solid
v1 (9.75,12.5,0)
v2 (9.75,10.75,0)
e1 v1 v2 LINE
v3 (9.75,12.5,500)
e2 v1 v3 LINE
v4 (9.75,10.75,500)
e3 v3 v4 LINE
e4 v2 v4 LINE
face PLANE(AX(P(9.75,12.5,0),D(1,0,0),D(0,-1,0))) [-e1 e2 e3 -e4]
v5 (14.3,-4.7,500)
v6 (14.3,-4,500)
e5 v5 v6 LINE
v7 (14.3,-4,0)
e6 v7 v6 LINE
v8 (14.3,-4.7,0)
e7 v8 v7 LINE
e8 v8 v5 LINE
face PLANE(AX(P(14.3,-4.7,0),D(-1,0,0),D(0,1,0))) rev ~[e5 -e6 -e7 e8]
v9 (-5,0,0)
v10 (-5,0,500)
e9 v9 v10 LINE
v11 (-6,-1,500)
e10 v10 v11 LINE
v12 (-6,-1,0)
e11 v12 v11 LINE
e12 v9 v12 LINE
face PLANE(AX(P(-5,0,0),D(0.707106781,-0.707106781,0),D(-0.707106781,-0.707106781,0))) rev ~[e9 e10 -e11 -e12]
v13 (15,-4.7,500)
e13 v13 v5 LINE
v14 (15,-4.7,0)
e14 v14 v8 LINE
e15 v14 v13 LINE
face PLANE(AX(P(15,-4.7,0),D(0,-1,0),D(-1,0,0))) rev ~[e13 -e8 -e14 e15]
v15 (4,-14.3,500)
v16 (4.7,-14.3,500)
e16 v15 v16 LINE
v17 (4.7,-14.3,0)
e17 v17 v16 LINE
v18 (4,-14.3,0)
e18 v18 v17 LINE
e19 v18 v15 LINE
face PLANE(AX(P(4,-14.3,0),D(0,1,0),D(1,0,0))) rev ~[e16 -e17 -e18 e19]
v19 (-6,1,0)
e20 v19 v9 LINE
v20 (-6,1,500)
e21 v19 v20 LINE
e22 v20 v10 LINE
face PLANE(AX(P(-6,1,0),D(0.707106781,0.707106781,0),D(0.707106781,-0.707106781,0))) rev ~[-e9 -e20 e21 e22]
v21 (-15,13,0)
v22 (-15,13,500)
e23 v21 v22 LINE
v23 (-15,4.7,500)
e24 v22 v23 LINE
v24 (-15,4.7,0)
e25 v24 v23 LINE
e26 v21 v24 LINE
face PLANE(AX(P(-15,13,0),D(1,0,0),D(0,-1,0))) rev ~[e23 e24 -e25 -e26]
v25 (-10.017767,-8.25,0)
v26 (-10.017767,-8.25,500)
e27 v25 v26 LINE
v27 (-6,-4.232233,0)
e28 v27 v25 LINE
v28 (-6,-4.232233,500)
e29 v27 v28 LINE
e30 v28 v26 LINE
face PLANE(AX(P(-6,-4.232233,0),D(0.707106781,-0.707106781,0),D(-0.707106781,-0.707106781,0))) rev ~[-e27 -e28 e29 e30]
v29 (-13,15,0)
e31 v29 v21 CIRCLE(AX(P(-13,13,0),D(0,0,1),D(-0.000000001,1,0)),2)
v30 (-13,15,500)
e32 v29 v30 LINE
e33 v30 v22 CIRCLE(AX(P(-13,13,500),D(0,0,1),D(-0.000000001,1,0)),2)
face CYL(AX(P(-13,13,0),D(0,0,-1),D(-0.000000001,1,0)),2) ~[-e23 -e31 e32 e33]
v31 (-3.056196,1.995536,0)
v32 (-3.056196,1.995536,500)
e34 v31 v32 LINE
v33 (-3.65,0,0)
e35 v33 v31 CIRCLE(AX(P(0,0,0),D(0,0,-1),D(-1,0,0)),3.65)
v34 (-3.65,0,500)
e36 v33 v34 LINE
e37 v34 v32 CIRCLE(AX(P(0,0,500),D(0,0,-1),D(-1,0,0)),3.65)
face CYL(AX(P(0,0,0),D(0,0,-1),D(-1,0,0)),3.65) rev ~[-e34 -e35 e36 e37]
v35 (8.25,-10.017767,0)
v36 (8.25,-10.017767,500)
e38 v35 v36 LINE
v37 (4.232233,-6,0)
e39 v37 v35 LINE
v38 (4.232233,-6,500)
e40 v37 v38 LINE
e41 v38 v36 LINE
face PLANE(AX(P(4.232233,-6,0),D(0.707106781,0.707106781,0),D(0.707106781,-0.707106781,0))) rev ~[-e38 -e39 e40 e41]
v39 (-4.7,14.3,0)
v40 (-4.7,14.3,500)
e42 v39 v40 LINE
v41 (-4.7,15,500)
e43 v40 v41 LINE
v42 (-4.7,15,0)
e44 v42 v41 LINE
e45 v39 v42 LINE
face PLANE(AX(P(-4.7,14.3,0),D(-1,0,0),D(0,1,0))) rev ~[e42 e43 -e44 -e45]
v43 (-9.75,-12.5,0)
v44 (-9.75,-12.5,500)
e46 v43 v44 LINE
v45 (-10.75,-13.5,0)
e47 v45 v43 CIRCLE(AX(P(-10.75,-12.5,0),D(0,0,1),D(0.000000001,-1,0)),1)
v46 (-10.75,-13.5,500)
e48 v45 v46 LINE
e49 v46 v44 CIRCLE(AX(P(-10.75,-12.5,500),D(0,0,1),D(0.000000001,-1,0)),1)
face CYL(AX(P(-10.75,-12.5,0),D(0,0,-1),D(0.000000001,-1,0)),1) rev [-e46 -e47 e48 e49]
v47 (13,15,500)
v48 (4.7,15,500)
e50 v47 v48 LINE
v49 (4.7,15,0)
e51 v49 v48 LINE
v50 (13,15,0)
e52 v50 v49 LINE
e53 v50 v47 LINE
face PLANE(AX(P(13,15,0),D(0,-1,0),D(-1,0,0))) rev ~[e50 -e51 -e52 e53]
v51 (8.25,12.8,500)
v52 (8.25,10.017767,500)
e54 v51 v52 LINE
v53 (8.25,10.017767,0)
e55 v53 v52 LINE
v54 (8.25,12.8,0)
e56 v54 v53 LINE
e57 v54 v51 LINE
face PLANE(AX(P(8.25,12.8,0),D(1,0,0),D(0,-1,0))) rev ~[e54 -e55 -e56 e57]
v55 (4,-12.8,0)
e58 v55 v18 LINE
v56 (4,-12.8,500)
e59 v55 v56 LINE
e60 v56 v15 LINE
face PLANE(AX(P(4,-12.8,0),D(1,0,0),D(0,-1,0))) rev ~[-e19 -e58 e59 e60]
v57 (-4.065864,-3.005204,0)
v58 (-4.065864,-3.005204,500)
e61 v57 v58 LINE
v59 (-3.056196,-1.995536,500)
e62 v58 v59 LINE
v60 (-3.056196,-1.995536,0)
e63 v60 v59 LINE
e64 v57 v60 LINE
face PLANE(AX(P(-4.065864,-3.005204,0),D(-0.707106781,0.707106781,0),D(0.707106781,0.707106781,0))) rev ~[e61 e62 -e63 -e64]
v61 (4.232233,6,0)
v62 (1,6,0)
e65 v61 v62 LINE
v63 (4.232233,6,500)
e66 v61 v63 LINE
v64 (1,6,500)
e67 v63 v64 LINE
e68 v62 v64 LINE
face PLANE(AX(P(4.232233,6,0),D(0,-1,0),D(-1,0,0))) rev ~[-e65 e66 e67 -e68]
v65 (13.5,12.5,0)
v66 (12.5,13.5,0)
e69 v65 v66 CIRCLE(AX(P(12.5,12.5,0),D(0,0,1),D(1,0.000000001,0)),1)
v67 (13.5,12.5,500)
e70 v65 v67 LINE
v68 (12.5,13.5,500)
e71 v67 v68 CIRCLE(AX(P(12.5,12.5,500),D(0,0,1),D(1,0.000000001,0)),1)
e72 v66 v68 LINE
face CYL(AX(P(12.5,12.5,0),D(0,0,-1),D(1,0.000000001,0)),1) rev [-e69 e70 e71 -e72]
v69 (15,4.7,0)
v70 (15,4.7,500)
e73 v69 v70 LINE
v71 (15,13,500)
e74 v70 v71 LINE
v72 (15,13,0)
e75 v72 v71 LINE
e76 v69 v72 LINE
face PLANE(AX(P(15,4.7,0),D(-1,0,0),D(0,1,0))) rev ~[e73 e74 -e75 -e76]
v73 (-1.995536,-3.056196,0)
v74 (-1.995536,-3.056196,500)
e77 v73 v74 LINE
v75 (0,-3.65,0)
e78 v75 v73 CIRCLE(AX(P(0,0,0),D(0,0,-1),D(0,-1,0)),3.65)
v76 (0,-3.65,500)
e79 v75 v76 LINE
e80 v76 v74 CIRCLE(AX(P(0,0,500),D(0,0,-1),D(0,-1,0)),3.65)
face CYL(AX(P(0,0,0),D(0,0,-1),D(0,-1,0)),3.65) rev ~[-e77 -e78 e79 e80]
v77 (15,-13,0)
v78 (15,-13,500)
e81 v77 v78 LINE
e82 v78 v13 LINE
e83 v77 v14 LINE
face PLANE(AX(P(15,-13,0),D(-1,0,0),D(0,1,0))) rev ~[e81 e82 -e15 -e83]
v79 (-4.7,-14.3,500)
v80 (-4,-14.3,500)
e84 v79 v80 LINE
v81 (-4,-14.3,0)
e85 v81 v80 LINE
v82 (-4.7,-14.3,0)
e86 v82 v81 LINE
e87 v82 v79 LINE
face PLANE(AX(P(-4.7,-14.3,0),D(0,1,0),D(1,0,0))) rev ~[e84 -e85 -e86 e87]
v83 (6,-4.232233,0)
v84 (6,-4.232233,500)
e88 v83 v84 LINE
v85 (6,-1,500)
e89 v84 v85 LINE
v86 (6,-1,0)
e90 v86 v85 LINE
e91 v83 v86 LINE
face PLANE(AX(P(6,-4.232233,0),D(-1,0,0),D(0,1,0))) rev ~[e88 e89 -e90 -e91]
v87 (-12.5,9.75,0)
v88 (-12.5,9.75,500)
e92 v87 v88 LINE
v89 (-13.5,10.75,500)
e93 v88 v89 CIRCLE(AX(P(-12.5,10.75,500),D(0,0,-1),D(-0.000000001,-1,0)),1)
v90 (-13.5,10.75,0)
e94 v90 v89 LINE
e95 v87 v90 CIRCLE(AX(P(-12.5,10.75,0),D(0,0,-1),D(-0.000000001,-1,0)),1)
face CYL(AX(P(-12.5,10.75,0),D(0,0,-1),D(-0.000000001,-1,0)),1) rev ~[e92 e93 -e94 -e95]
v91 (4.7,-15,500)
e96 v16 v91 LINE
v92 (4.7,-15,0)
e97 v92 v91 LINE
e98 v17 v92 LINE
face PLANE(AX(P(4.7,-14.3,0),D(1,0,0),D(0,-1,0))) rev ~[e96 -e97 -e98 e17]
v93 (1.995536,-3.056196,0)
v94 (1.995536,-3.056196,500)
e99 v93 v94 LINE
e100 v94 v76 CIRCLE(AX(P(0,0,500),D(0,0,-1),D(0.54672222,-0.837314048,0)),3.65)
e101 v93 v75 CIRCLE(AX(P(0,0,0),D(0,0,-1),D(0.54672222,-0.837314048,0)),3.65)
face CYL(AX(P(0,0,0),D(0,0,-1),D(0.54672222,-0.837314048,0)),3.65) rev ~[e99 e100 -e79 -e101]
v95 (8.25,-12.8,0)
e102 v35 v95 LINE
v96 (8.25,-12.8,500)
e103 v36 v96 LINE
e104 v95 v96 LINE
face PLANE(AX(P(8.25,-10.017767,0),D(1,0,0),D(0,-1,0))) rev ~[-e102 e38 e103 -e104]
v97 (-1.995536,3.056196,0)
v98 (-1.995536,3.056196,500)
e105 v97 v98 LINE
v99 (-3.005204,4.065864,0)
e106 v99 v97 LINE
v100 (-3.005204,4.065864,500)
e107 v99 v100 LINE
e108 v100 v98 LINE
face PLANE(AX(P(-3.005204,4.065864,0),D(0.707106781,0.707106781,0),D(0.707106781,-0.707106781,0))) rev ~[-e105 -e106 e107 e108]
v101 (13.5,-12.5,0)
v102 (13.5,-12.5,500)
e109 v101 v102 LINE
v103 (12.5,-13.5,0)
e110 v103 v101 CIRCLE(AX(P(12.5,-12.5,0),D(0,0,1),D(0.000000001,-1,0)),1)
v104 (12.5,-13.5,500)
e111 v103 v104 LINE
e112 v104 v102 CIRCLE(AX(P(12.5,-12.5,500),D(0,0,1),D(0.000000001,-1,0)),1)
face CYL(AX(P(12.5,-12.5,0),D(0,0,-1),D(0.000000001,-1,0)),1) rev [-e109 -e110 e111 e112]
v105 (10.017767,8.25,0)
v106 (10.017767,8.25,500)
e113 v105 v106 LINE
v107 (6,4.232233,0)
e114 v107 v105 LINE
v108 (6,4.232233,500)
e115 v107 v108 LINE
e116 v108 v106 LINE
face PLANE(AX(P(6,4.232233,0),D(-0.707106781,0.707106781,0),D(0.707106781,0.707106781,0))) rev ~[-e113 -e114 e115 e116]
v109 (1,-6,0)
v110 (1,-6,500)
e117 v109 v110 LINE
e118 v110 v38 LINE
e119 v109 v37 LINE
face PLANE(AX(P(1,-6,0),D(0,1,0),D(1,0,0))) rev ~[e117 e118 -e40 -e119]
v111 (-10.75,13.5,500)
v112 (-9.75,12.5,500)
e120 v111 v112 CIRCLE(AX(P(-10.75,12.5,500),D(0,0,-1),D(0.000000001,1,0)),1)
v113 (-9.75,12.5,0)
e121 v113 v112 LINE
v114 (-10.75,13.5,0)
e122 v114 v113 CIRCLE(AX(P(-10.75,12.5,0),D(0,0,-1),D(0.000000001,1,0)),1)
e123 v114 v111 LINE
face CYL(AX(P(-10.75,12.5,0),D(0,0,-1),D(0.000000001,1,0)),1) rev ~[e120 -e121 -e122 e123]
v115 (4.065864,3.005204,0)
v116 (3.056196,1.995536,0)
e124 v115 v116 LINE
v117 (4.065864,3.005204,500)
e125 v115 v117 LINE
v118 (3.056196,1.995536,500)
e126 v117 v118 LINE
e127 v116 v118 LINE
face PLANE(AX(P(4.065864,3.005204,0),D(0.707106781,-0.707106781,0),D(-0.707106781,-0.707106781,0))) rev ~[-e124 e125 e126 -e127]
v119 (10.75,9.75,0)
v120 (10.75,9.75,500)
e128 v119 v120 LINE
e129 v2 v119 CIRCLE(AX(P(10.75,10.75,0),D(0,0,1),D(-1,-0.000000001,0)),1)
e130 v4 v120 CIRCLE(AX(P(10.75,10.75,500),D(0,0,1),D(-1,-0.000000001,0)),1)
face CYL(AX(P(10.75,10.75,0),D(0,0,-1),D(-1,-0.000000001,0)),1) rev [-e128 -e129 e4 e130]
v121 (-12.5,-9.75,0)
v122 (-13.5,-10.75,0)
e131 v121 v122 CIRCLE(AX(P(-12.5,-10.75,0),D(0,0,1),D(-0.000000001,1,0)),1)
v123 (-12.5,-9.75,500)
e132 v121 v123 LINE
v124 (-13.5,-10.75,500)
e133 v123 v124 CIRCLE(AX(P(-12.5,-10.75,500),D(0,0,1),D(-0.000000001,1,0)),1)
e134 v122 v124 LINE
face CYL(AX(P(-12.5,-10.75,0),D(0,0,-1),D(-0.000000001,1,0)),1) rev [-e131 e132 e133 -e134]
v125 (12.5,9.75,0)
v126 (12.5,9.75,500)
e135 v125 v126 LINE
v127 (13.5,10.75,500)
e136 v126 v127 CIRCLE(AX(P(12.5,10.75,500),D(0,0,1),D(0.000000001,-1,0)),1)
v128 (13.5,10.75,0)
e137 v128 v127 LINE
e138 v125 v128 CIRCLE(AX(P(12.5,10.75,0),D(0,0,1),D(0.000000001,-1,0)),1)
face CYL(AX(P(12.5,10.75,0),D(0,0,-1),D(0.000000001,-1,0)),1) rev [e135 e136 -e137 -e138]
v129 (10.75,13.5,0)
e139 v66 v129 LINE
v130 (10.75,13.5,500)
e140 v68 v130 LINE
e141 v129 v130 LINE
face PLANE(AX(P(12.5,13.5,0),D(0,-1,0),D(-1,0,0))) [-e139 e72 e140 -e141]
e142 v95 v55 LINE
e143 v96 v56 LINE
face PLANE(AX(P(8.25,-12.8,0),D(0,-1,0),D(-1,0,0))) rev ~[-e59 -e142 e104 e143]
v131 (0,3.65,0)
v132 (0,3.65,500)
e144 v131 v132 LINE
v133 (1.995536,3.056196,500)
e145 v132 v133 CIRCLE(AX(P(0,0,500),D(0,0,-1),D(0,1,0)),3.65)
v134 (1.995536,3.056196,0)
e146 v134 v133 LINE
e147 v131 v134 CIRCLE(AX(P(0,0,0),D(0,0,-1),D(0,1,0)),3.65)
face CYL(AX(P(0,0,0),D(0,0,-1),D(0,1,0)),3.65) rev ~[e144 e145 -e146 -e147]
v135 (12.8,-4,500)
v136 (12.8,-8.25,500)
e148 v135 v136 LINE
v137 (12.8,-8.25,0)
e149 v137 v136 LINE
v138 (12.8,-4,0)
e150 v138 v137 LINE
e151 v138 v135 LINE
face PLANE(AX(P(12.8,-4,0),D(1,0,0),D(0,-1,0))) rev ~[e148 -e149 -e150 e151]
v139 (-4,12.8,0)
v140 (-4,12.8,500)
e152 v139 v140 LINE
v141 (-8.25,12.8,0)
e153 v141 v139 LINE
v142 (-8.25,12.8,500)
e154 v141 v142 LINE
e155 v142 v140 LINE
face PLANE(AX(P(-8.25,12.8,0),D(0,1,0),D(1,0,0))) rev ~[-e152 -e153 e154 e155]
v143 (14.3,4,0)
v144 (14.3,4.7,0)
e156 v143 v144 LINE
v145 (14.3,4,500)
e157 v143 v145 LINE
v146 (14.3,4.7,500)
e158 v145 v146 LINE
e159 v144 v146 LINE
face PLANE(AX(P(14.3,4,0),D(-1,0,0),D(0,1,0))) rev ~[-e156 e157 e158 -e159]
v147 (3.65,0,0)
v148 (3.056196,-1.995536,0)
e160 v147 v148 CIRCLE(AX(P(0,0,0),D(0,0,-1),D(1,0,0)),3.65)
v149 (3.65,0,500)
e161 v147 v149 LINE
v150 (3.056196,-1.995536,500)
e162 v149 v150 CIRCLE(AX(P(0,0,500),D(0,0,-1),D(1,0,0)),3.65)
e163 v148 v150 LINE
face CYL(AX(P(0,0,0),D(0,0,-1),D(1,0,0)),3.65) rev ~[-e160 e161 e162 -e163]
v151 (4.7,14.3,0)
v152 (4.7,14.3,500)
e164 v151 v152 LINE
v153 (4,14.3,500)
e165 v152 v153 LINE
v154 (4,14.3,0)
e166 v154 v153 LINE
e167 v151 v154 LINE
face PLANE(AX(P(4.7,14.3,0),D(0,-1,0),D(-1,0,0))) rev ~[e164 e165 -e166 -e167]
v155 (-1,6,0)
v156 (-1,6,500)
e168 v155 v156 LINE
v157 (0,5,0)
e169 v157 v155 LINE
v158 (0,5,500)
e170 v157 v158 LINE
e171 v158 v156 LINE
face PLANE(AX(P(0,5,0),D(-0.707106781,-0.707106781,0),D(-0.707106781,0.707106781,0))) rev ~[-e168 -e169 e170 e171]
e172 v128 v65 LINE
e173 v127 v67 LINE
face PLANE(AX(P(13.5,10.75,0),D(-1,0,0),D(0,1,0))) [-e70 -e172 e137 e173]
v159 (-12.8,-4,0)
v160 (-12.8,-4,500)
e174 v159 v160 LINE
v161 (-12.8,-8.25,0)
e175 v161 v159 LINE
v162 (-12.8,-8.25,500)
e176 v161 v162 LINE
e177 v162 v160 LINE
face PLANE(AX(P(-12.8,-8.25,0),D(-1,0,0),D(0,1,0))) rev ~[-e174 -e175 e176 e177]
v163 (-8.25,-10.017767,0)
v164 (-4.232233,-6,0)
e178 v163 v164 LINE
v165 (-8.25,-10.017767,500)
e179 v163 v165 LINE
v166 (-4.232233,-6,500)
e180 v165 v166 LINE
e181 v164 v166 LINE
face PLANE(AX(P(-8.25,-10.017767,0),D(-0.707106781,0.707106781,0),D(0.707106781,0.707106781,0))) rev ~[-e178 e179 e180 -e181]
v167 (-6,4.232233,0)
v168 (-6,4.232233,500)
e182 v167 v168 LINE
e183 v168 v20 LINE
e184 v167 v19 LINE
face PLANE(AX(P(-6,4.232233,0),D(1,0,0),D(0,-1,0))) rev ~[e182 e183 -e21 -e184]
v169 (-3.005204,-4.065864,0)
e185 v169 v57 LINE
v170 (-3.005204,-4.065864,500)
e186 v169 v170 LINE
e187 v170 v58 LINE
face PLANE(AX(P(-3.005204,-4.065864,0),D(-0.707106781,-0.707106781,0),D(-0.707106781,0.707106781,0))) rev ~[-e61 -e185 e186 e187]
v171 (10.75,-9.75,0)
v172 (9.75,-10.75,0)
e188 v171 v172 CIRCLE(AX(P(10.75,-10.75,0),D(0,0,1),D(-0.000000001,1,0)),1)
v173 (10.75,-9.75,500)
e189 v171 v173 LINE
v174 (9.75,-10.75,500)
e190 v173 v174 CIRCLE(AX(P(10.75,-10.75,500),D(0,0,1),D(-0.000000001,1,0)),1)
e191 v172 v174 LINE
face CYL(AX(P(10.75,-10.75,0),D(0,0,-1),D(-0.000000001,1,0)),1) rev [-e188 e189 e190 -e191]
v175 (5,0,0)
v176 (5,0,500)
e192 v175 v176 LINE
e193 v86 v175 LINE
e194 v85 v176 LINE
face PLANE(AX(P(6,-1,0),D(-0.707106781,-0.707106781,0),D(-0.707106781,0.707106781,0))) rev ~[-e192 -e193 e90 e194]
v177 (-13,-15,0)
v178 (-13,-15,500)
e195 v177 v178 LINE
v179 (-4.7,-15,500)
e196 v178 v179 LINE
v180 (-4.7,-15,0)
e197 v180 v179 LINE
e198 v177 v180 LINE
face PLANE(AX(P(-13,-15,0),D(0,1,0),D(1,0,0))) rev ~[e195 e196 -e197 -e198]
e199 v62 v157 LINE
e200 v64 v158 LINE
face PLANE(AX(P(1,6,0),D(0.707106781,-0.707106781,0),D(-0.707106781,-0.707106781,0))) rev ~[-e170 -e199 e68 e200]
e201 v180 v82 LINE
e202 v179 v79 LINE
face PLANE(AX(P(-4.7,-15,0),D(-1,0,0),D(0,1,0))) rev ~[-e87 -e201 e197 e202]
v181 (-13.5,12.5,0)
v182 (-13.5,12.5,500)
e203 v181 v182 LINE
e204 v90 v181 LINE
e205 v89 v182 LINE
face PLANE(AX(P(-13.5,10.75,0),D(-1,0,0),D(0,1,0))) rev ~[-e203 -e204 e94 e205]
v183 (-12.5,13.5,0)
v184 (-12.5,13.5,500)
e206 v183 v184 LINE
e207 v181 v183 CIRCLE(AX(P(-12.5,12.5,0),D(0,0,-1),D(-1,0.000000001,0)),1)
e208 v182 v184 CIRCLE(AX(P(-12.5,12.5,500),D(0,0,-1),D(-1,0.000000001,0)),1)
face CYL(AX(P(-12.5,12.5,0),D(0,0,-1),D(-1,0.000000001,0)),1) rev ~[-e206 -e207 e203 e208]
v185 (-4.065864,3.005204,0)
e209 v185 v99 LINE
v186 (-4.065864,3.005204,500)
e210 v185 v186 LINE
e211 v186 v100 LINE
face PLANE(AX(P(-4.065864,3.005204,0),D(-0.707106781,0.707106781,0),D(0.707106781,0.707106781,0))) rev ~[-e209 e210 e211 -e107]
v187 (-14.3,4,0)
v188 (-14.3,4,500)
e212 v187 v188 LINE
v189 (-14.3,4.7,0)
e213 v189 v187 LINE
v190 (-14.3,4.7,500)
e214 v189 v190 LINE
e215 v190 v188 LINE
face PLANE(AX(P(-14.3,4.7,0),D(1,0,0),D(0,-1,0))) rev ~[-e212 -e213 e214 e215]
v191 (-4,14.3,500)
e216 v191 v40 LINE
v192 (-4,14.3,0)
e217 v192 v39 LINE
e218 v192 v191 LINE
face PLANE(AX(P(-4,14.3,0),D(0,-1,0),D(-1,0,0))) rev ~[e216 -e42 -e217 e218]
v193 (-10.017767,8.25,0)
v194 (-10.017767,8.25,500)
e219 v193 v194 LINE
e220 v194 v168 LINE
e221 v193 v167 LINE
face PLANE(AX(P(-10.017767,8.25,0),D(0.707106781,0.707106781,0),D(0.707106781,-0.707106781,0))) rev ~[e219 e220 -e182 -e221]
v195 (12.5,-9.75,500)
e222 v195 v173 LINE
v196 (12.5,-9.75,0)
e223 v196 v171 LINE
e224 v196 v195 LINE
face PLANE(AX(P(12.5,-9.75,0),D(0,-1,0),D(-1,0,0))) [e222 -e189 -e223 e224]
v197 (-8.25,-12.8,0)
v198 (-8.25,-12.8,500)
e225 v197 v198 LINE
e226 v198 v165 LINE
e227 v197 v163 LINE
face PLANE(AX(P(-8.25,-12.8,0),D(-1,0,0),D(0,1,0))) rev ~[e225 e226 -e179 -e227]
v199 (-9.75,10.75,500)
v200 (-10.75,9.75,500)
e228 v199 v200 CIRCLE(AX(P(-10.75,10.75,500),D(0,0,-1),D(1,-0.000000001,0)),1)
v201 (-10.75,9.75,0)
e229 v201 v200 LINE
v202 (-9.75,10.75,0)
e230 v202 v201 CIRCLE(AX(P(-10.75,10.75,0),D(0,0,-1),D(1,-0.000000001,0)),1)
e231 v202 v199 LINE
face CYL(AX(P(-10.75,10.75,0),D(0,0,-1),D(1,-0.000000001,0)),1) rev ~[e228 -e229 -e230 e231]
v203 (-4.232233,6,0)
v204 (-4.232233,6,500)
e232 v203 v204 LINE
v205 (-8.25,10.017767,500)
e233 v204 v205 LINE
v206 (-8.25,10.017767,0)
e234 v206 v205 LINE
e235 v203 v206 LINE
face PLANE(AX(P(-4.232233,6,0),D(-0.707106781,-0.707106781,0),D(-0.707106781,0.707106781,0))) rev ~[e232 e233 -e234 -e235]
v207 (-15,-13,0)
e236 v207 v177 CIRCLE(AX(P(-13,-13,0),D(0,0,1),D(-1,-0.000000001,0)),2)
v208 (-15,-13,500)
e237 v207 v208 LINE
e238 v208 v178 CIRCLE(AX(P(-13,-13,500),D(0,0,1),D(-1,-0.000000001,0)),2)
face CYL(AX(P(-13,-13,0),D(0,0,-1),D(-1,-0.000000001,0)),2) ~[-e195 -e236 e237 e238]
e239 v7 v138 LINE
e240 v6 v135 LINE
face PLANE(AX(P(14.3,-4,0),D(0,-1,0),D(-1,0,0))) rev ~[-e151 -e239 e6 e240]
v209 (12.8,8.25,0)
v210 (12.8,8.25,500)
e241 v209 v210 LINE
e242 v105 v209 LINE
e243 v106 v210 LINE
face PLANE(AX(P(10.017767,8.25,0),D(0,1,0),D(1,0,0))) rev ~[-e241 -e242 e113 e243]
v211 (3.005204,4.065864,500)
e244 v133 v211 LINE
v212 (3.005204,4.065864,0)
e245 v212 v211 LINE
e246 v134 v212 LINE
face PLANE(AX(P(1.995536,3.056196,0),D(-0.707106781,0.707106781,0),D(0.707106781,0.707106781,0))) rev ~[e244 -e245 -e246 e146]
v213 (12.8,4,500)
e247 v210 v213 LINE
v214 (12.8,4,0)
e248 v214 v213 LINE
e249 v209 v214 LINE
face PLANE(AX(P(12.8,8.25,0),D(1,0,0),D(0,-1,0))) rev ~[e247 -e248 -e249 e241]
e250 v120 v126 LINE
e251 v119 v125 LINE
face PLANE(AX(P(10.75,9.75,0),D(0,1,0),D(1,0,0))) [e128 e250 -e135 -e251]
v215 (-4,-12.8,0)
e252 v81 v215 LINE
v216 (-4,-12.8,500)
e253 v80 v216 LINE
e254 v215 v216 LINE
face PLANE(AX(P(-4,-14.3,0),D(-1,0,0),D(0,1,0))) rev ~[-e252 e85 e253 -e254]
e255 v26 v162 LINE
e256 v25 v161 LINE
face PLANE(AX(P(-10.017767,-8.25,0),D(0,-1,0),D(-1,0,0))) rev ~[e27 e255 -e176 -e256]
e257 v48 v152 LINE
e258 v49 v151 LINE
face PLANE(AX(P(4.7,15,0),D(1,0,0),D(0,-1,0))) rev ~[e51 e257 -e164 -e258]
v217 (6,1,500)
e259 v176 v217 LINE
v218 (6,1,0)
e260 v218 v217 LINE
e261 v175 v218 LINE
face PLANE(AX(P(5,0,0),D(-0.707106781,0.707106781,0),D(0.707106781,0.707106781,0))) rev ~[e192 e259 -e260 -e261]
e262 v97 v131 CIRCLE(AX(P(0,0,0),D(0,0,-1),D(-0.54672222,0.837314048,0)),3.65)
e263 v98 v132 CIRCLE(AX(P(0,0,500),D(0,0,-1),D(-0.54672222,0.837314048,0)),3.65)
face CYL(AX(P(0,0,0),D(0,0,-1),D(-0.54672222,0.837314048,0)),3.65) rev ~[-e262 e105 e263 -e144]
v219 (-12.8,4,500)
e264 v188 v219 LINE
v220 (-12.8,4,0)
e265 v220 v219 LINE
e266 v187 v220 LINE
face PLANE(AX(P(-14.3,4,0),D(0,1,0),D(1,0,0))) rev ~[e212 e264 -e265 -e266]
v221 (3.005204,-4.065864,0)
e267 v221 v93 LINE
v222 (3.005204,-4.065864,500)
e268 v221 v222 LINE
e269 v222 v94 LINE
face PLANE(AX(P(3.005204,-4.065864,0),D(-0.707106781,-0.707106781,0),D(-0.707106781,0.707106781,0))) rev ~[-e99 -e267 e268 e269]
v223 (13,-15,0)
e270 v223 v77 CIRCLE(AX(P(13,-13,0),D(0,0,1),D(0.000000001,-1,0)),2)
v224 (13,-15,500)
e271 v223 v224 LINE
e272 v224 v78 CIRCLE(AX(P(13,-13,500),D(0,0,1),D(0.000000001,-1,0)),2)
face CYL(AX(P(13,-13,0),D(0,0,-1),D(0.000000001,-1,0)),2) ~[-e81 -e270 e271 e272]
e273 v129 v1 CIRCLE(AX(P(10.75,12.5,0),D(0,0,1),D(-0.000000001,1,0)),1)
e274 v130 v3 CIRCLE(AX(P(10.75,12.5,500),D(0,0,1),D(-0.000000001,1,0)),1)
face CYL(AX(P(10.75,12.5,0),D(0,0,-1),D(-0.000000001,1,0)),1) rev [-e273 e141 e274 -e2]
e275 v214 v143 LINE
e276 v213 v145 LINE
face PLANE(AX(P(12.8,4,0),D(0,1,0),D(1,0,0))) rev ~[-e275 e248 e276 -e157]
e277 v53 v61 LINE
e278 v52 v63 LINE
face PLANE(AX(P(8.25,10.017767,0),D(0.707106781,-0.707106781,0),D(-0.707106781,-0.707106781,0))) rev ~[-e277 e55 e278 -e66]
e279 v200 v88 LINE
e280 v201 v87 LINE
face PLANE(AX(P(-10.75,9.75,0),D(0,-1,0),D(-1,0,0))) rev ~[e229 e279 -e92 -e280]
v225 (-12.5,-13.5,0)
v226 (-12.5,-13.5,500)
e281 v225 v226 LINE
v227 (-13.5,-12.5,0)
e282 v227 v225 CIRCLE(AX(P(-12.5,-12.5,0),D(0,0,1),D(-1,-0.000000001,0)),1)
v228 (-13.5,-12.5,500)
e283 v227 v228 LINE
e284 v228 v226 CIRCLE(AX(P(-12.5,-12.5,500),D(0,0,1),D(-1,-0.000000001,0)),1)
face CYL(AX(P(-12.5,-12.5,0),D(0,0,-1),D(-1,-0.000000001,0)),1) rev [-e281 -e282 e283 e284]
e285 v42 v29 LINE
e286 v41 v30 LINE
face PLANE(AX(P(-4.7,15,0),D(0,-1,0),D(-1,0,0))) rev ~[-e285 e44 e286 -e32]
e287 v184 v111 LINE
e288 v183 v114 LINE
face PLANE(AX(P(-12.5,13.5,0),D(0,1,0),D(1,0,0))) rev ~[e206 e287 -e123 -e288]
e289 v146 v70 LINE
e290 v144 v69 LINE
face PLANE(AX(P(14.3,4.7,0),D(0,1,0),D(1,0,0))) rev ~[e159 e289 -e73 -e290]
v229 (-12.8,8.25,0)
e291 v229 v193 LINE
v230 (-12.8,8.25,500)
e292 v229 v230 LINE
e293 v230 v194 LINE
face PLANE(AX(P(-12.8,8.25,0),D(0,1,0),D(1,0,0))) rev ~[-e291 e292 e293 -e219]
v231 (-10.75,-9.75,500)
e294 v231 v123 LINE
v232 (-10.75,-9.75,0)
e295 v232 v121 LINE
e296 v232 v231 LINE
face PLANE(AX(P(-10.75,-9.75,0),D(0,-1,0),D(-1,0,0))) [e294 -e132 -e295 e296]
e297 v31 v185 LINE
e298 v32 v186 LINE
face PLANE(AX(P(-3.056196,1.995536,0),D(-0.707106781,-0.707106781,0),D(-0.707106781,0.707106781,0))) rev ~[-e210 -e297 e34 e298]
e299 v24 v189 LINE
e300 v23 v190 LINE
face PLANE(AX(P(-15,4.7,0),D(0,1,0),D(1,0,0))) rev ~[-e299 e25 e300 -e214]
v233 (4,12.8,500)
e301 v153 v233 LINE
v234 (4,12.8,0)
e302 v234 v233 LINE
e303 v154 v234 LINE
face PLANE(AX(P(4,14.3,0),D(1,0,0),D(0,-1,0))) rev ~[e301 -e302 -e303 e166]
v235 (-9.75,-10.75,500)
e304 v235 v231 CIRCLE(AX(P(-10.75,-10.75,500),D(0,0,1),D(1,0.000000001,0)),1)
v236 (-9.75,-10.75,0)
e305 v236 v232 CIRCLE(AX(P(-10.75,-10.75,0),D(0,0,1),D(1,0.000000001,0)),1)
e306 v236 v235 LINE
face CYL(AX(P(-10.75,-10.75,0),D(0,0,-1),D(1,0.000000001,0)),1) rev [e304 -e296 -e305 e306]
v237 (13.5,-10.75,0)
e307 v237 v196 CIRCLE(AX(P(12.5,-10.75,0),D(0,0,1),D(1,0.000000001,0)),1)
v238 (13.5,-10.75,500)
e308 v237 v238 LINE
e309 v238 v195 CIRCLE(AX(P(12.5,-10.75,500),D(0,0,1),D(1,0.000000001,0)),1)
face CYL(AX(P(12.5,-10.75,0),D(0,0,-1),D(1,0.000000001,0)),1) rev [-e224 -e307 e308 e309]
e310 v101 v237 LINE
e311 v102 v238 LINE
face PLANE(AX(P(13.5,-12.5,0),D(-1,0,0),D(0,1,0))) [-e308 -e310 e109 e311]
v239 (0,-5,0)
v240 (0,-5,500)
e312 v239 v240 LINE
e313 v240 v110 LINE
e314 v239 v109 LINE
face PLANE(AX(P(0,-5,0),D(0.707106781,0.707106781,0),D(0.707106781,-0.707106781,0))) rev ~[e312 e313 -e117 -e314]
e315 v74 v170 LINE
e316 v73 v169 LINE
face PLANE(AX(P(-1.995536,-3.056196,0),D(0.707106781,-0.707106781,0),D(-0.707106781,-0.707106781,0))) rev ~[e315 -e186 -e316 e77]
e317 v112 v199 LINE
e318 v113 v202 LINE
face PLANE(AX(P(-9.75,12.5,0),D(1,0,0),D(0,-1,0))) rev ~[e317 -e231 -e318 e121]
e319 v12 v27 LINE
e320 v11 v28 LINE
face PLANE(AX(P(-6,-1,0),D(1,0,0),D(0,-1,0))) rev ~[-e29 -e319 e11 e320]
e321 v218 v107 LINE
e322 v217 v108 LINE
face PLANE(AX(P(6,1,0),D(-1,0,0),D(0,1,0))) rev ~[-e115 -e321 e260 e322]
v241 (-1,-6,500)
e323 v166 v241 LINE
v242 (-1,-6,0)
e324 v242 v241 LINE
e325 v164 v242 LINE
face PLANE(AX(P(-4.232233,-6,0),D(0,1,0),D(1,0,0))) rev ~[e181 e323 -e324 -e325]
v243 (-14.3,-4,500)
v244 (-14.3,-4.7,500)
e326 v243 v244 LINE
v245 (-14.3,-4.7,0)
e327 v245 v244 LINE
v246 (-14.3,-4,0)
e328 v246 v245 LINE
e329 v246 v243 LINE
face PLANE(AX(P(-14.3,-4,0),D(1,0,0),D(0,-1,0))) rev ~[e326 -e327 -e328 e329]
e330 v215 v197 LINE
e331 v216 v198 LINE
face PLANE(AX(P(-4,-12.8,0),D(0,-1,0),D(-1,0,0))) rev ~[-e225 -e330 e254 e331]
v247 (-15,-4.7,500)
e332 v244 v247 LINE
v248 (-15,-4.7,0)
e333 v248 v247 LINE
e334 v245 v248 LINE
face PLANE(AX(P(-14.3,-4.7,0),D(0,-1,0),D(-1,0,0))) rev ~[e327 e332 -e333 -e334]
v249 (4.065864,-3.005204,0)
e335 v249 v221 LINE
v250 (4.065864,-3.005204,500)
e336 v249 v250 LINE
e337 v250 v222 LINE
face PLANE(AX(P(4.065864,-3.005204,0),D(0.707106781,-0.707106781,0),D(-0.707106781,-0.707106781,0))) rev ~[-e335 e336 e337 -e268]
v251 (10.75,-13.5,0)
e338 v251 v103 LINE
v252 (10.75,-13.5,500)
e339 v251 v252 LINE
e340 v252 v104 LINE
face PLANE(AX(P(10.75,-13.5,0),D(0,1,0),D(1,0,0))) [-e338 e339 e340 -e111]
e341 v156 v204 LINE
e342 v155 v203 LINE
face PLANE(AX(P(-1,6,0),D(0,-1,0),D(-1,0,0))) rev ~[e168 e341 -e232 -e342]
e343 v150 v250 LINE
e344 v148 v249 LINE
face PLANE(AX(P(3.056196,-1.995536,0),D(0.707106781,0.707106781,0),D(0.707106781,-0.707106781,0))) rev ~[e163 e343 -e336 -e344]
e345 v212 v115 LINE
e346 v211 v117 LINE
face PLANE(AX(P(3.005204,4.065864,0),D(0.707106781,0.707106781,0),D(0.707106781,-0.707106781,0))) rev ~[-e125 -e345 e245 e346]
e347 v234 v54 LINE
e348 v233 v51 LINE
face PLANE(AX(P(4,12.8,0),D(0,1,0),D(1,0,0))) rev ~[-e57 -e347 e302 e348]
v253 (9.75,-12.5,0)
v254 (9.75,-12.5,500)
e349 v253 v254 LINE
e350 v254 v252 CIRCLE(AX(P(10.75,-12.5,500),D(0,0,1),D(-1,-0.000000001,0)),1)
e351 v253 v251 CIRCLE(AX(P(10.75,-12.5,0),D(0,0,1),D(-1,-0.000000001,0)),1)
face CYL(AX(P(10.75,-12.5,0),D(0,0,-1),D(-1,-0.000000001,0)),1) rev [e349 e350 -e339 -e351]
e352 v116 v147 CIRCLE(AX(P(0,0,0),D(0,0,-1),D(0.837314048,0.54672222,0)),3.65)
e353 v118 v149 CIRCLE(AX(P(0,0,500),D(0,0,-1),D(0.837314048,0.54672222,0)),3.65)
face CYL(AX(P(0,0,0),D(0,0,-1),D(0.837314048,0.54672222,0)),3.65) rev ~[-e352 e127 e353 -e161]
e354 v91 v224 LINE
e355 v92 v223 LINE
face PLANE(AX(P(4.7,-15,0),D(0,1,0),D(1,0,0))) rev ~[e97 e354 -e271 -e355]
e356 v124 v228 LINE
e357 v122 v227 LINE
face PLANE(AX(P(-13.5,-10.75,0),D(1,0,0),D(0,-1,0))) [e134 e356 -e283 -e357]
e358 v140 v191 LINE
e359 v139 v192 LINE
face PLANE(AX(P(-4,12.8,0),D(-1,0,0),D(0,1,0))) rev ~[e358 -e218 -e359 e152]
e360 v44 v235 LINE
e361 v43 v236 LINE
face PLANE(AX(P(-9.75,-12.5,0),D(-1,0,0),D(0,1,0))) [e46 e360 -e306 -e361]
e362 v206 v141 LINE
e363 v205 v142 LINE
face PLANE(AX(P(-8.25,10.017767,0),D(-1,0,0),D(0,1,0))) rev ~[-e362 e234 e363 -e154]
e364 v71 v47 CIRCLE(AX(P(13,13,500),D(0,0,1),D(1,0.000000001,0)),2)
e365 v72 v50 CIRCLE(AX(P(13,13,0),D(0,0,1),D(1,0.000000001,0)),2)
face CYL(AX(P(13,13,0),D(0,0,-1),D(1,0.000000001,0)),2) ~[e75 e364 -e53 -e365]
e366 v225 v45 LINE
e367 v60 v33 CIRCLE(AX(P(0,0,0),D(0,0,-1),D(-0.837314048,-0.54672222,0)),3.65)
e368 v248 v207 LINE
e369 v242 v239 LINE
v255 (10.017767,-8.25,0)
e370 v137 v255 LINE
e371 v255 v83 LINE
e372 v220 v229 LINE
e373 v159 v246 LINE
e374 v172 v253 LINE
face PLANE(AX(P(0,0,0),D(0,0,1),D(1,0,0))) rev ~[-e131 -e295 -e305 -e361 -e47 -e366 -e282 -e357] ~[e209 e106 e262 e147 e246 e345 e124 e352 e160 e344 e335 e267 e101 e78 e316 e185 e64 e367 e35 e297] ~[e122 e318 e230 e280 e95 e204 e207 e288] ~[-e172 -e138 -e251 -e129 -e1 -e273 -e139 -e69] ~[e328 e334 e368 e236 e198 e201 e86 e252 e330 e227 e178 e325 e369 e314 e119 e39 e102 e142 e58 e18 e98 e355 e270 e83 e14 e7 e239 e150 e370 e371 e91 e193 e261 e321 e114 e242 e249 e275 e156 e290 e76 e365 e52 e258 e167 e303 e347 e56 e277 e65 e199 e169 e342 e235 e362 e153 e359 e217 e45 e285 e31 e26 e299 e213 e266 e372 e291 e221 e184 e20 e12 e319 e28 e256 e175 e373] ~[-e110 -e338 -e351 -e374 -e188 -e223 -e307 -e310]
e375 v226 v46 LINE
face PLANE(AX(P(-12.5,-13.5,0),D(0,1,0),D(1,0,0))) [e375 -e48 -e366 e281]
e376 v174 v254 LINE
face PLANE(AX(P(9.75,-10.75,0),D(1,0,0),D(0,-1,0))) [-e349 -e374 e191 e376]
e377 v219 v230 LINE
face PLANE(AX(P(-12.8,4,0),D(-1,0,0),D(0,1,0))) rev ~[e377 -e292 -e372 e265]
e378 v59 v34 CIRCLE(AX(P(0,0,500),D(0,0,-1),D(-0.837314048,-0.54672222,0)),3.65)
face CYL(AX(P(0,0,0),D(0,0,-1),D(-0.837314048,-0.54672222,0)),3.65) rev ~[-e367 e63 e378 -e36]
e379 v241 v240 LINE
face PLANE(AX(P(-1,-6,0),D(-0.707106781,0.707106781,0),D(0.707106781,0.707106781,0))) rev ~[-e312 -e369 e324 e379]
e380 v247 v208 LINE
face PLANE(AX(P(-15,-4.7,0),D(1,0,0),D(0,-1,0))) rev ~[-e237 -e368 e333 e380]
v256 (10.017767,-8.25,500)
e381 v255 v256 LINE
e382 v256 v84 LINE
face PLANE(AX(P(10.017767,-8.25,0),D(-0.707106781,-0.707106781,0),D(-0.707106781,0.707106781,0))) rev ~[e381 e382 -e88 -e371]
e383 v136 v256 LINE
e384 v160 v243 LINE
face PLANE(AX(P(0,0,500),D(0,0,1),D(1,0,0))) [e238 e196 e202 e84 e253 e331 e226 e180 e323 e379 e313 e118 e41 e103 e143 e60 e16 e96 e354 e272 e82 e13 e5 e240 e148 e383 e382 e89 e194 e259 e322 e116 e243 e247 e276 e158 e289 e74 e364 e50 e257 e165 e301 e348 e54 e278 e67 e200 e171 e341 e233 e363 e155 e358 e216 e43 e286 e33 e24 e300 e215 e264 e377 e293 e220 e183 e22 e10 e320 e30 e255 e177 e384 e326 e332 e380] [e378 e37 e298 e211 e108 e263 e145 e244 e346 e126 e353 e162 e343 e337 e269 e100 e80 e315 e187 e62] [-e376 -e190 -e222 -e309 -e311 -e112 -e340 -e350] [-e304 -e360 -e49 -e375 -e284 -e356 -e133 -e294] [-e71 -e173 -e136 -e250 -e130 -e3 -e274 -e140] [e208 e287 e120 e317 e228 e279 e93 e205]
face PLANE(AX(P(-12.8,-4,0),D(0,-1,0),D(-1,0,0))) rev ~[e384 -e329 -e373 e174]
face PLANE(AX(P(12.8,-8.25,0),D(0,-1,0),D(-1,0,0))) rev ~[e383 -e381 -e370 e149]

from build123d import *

# Parameters (mm, degrees)
ESTRUSIONE_ESTRUSIONE2_DEPTH = 500


with BuildPart() as part:
    # Schizzo1 → Estrusione-Estrusione2 (new body)
    with BuildSketch(Plane.XY):
        with BuildLine():
            Line((-15, 13), (-15, 4.7))
            Line((-15, 4.7), (-14.3, 4.7))
            Line((-14.3, 4.7), (-14.3, 4))
            Line((-14.3, 4), (-12.8, 4))
            Line((-12.8, 4), (-12.8, 8.25))
            Line((-12.8, 8.25), (-10.017766953, 8.25))
            Line((-10.017766953, 8.25), (-6, 4.232233047))
            Line((-6, 4.232233047), (-6, 1))
            Line((-6, 1), (-5, 0))
            Line((-5, 0), (-6, -1))
            Line((-6, -1), (-6, -4.232233047))
            Line((-6, -4.232233047), (-10.017766953, -8.25))
            Line((-10.017766953, -8.25), (-12.8, -8.25))
            Line((-12.8, -8.25), (-12.8, -4))
            Line((-12.8, -4), (-14.3, -4))
            Line((-14.3, -4), (-14.3, -4.7))
            Line((-14.3, -4.7), (-15, -4.7))
            Line((-15, -4.7), (-15, -13))
            ThreePointArc((-15, -13), (-14.414213562, -14.414213562), (-13, -15))
            Line((-13, -15), (-4.7, -15))
            Line((-4.7, -15), (-4.7, -14.3))
            Line((-4.7, -14.3), (-4, -14.3))
            Line((-4, -14.3), (-4, -12.8))
            Line((-4, -12.8), (-8.25, -12.8))
            Line((-8.25, -12.8), (-8.25, -10.017766953))
            Line((-8.25, -10.017766953), (-4.232233047, -6))
            Line((-4.232233047, -6), (-1, -6))
            Line((-1, -6), (0, -5))
            Line((0, -5), (1, -6))
            Line((1, -6), (4.232233047, -6))
            Line((4.232233047, -6), (8.25, -10.017766953))
            Line((8.25, -10.017766953), (8.25, -12.8))
            Line((8.25, -12.8), (4, -12.8))
            Line((4, -12.8), (4, -14.3))
            Line((4, -14.3), (4.7, -14.3))
            Line((4.7, -14.3), (4.7, -15))
            Line((4.7, -15), (13, -15))
            ThreePointArc((13, -15), (14.414213562, -14.414213562), (15, -13))
            Line((15, -13), (15, -4.7))
            Line((15, -4.7), (14.3, -4.7))
            Line((14.3, -4.7), (14.3, -4))
            Line((14.3, -4), (12.8, -4))
            Line((12.8, -4), (12.8, -8.25))
            Line((12.8, -8.25), (10.017766953, -8.25))
            Line((10.017766953, -8.25), (6, -4.232233047))
            Line((6, -4.232233047), (6, -1))
            Line((6, -1), (5, 0))
            Line((5, 0), (6, 1))
            Line((6, 1), (6, 4.232233047))
            Line((6, 4.232233047), (10.017766953, 8.25))
            Line((10.017766953, 8.25), (12.8, 8.25))
            Line((12.8, 8.25), (12.8, 4))
            Line((12.8, 4), (14.3, 4))
            Line((14.3, 4), (14.3, 4.7))
            Line((14.3, 4.7), (15, 4.7))
            Line((15, 4.7), (15, 13))
            ThreePointArc((15, 13), (14.414213562, 14.414213562), (13, 15))
            Line((13, 15), (4.7, 15))
            Line((4.7, 15), (4.7, 14.3))
            Line((4.7, 14.3), (4, 14.3))
            Line((4, 14.3), (4, 12.8))
            Line((4, 12.8), (8.25, 12.8))
            Line((8.25, 12.8), (8.25, 10.017766953))
            Line((8.25, 10.017766953), (4.232233047, 6))
            Line((4.232233047, 6), (1, 6))
            Line((1, 6), (0, 5))
            Line((0, 5), (-1, 6))
            Line((-1, 6), (-4.232233047, 6))
            Line((-4.232233047, 6), (-8.25, 10.017766953))
            Line((-8.25, 10.017766953), (-8.25, 12.8))
            Line((-8.25, 12.8), (-4, 12.8))
            Line((-4, 12.8), (-4, 14.3))
            Line((-4, 14.3), (-4.7, 14.3))
            Line((-4.7, 14.3), (-4.7, 15))
            Line((-4.7, 15), (-13, 15))
            ThreePointArc((-13, 15), (-14.414213562, 14.414213562), (-15, 13))
        make_face()
        with BuildLine():
            Line((13.5, 10.75), (13.5, 12.5))
            ThreePointArc((13.5, 12.5), (13.207106781, 13.207106781), (12.5, 13.5))
            Line((12.5, 13.5), (10.75, 13.5))
            ThreePointArc((10.75, 13.5), (10.042893219, 13.207106781), (9.75, 12.5))
            Line((9.75, 12.5), (9.75, 10.75))
            ThreePointArc((9.75, 10.75), (10.042893219, 10.042893219), (10.75, 9.75))
            Line((10.75, 9.75), (12.5, 9.75))
            ThreePointArc((12.5, 9.75), (13.207106781, 10.042893219), (13.5, 10.75))
        make_face(mode=Mode.SUBTRACT)
        with BuildLine():
            Line((10.75, -13.5), (12.5, -13.5))
            ThreePointArc((12.5, -13.5), (13.207106781, -13.207106781), (13.5, -12.5))
            Line((13.5, -12.5), (13.5, -10.75))
            ThreePointArc((13.5, -10.75), (13.207106781, -10.042893219), (12.5, -9.75))
            Line((12.5, -9.75), (10.75, -9.75))
            ThreePointArc((10.75, -9.75), (10.042893219, -10.042893219), (9.75, -10.75))
            Line((9.75, -10.75), (9.75, -12.5))
            ThreePointArc((9.75, -12.5), (10.042893219, -13.207106781), (10.75, -13.5))
        make_face(mode=Mode.SUBTRACT)
        with BuildLine():
            Line((-13.5, -10.75), (-13.5, -12.5))
            ThreePointArc((-13.5, -12.5), (-13.207106781, -13.207106781), (-12.5, -13.5))
            Line((-12.5, -13.5), (-10.75, -13.5))
            ThreePointArc((-10.75, -13.5), (-10.042893219, -13.207106781), (-9.75, -12.5))
            Line((-9.75, -12.5), (-9.75, -10.75))
            ThreePointArc((-9.75, -10.75), (-10.042893219, -10.042893219), (-10.75, -9.75))
            Line((-10.75, -9.75), (-12.5, -9.75))
            ThreePointArc((-12.5, -9.75), (-13.207106781, -10.042893219), (-13.5, -10.75))
        make_face(mode=Mode.SUBTRACT)
        with BuildLine():
            Line((1.995536102, 3.056196274), (3.00520382, 4.065863992))
            Line((3.00520382, 4.065863992), (4.065863992, 3.00520382))
            Line((4.065863992, 3.00520382), (3.056196274, 1.995536102))
            ThreePointArc((3.056196274, 1.995536102), (3.498400806, 1.041005187), (3.65, 0))
            ThreePointArc((3.65, 0), (3.498400806, -1.041005187), (3.056196274, -1.995536102))
            Line((3.056196274, -1.995536102), (4.065863992, -3.00520382))
            Line((4.065863992, -3.00520382), (3.00520382, -4.065863992))
            Line((3.00520382, -4.065863992), (1.995536102, -3.056196274))
            ThreePointArc((1.995536102, -3.056196274), (1.041005187, -3.498400806), (0, -3.65))
            ThreePointArc((0, -3.65), (-1.041005187, -3.498400806), (-1.995536102, -3.056196274))
            Line((-1.995536102, -3.056196274), (-3.00520382, -4.065863992))
            Line((-3.00520382, -4.065863992), (-4.065863992, -3.00520382))
            Line((-4.065863992, -3.00520382), (-3.056196274, -1.995536102))
            ThreePointArc((-3.056196274, -1.995536102), (-3.498400806, -1.041005187), (-3.65, 0))
            ThreePointArc((-3.65, 0), (-3.498400806, 1.041005187), (-3.056196274, 1.995536102))
            Line((-3.056196274, 1.995536102), (-4.065863992, 3.00520382))
            Line((-4.065863992, 3.00520382), (-3.00520382, 4.065863992))
            Line((-3.00520382, 4.065863992), (-1.995536102, 3.056196274))
            ThreePointArc((-1.995536102, 3.056196274), (-1.041005187, 3.498400806), (0, 3.65))
            ThreePointArc((0, 3.65), (1.041005187, 3.498400806), (1.995536102, 3.056196274))
        make_face(mode=Mode.SUBTRACT)
        with BuildLine():
            Line((-10.75, 9.75), (-12.5, 9.75))
            ThreePointArc((-12.5, 9.75), (-13.207106781, 10.042893219), (-13.5, 10.75))
            Line((-13.5, 10.75), (-13.5, 12.5))
            ThreePointArc((-13.5, 12.5), (-13.207106781, 13.207106781), (-12.5, 13.5))
            Line((-12.5, 13.5), (-10.75, 13.5))
            ThreePointArc((-10.75, 13.5), (-10.042893219, 13.207106781), (-9.75, 12.5))
            Line((-9.75, 12.5), (-9.75, 10.75))
            ThreePointArc((-9.75, 10.75), (-10.042893219, 10.042893219), (-10.75, 9.75))
        make_face(mode=Mode.SUBTRACT)
    extrude(amount=ESTRUSIONE_ESTRUSIONE2_DEPTH)


solid = part.part
